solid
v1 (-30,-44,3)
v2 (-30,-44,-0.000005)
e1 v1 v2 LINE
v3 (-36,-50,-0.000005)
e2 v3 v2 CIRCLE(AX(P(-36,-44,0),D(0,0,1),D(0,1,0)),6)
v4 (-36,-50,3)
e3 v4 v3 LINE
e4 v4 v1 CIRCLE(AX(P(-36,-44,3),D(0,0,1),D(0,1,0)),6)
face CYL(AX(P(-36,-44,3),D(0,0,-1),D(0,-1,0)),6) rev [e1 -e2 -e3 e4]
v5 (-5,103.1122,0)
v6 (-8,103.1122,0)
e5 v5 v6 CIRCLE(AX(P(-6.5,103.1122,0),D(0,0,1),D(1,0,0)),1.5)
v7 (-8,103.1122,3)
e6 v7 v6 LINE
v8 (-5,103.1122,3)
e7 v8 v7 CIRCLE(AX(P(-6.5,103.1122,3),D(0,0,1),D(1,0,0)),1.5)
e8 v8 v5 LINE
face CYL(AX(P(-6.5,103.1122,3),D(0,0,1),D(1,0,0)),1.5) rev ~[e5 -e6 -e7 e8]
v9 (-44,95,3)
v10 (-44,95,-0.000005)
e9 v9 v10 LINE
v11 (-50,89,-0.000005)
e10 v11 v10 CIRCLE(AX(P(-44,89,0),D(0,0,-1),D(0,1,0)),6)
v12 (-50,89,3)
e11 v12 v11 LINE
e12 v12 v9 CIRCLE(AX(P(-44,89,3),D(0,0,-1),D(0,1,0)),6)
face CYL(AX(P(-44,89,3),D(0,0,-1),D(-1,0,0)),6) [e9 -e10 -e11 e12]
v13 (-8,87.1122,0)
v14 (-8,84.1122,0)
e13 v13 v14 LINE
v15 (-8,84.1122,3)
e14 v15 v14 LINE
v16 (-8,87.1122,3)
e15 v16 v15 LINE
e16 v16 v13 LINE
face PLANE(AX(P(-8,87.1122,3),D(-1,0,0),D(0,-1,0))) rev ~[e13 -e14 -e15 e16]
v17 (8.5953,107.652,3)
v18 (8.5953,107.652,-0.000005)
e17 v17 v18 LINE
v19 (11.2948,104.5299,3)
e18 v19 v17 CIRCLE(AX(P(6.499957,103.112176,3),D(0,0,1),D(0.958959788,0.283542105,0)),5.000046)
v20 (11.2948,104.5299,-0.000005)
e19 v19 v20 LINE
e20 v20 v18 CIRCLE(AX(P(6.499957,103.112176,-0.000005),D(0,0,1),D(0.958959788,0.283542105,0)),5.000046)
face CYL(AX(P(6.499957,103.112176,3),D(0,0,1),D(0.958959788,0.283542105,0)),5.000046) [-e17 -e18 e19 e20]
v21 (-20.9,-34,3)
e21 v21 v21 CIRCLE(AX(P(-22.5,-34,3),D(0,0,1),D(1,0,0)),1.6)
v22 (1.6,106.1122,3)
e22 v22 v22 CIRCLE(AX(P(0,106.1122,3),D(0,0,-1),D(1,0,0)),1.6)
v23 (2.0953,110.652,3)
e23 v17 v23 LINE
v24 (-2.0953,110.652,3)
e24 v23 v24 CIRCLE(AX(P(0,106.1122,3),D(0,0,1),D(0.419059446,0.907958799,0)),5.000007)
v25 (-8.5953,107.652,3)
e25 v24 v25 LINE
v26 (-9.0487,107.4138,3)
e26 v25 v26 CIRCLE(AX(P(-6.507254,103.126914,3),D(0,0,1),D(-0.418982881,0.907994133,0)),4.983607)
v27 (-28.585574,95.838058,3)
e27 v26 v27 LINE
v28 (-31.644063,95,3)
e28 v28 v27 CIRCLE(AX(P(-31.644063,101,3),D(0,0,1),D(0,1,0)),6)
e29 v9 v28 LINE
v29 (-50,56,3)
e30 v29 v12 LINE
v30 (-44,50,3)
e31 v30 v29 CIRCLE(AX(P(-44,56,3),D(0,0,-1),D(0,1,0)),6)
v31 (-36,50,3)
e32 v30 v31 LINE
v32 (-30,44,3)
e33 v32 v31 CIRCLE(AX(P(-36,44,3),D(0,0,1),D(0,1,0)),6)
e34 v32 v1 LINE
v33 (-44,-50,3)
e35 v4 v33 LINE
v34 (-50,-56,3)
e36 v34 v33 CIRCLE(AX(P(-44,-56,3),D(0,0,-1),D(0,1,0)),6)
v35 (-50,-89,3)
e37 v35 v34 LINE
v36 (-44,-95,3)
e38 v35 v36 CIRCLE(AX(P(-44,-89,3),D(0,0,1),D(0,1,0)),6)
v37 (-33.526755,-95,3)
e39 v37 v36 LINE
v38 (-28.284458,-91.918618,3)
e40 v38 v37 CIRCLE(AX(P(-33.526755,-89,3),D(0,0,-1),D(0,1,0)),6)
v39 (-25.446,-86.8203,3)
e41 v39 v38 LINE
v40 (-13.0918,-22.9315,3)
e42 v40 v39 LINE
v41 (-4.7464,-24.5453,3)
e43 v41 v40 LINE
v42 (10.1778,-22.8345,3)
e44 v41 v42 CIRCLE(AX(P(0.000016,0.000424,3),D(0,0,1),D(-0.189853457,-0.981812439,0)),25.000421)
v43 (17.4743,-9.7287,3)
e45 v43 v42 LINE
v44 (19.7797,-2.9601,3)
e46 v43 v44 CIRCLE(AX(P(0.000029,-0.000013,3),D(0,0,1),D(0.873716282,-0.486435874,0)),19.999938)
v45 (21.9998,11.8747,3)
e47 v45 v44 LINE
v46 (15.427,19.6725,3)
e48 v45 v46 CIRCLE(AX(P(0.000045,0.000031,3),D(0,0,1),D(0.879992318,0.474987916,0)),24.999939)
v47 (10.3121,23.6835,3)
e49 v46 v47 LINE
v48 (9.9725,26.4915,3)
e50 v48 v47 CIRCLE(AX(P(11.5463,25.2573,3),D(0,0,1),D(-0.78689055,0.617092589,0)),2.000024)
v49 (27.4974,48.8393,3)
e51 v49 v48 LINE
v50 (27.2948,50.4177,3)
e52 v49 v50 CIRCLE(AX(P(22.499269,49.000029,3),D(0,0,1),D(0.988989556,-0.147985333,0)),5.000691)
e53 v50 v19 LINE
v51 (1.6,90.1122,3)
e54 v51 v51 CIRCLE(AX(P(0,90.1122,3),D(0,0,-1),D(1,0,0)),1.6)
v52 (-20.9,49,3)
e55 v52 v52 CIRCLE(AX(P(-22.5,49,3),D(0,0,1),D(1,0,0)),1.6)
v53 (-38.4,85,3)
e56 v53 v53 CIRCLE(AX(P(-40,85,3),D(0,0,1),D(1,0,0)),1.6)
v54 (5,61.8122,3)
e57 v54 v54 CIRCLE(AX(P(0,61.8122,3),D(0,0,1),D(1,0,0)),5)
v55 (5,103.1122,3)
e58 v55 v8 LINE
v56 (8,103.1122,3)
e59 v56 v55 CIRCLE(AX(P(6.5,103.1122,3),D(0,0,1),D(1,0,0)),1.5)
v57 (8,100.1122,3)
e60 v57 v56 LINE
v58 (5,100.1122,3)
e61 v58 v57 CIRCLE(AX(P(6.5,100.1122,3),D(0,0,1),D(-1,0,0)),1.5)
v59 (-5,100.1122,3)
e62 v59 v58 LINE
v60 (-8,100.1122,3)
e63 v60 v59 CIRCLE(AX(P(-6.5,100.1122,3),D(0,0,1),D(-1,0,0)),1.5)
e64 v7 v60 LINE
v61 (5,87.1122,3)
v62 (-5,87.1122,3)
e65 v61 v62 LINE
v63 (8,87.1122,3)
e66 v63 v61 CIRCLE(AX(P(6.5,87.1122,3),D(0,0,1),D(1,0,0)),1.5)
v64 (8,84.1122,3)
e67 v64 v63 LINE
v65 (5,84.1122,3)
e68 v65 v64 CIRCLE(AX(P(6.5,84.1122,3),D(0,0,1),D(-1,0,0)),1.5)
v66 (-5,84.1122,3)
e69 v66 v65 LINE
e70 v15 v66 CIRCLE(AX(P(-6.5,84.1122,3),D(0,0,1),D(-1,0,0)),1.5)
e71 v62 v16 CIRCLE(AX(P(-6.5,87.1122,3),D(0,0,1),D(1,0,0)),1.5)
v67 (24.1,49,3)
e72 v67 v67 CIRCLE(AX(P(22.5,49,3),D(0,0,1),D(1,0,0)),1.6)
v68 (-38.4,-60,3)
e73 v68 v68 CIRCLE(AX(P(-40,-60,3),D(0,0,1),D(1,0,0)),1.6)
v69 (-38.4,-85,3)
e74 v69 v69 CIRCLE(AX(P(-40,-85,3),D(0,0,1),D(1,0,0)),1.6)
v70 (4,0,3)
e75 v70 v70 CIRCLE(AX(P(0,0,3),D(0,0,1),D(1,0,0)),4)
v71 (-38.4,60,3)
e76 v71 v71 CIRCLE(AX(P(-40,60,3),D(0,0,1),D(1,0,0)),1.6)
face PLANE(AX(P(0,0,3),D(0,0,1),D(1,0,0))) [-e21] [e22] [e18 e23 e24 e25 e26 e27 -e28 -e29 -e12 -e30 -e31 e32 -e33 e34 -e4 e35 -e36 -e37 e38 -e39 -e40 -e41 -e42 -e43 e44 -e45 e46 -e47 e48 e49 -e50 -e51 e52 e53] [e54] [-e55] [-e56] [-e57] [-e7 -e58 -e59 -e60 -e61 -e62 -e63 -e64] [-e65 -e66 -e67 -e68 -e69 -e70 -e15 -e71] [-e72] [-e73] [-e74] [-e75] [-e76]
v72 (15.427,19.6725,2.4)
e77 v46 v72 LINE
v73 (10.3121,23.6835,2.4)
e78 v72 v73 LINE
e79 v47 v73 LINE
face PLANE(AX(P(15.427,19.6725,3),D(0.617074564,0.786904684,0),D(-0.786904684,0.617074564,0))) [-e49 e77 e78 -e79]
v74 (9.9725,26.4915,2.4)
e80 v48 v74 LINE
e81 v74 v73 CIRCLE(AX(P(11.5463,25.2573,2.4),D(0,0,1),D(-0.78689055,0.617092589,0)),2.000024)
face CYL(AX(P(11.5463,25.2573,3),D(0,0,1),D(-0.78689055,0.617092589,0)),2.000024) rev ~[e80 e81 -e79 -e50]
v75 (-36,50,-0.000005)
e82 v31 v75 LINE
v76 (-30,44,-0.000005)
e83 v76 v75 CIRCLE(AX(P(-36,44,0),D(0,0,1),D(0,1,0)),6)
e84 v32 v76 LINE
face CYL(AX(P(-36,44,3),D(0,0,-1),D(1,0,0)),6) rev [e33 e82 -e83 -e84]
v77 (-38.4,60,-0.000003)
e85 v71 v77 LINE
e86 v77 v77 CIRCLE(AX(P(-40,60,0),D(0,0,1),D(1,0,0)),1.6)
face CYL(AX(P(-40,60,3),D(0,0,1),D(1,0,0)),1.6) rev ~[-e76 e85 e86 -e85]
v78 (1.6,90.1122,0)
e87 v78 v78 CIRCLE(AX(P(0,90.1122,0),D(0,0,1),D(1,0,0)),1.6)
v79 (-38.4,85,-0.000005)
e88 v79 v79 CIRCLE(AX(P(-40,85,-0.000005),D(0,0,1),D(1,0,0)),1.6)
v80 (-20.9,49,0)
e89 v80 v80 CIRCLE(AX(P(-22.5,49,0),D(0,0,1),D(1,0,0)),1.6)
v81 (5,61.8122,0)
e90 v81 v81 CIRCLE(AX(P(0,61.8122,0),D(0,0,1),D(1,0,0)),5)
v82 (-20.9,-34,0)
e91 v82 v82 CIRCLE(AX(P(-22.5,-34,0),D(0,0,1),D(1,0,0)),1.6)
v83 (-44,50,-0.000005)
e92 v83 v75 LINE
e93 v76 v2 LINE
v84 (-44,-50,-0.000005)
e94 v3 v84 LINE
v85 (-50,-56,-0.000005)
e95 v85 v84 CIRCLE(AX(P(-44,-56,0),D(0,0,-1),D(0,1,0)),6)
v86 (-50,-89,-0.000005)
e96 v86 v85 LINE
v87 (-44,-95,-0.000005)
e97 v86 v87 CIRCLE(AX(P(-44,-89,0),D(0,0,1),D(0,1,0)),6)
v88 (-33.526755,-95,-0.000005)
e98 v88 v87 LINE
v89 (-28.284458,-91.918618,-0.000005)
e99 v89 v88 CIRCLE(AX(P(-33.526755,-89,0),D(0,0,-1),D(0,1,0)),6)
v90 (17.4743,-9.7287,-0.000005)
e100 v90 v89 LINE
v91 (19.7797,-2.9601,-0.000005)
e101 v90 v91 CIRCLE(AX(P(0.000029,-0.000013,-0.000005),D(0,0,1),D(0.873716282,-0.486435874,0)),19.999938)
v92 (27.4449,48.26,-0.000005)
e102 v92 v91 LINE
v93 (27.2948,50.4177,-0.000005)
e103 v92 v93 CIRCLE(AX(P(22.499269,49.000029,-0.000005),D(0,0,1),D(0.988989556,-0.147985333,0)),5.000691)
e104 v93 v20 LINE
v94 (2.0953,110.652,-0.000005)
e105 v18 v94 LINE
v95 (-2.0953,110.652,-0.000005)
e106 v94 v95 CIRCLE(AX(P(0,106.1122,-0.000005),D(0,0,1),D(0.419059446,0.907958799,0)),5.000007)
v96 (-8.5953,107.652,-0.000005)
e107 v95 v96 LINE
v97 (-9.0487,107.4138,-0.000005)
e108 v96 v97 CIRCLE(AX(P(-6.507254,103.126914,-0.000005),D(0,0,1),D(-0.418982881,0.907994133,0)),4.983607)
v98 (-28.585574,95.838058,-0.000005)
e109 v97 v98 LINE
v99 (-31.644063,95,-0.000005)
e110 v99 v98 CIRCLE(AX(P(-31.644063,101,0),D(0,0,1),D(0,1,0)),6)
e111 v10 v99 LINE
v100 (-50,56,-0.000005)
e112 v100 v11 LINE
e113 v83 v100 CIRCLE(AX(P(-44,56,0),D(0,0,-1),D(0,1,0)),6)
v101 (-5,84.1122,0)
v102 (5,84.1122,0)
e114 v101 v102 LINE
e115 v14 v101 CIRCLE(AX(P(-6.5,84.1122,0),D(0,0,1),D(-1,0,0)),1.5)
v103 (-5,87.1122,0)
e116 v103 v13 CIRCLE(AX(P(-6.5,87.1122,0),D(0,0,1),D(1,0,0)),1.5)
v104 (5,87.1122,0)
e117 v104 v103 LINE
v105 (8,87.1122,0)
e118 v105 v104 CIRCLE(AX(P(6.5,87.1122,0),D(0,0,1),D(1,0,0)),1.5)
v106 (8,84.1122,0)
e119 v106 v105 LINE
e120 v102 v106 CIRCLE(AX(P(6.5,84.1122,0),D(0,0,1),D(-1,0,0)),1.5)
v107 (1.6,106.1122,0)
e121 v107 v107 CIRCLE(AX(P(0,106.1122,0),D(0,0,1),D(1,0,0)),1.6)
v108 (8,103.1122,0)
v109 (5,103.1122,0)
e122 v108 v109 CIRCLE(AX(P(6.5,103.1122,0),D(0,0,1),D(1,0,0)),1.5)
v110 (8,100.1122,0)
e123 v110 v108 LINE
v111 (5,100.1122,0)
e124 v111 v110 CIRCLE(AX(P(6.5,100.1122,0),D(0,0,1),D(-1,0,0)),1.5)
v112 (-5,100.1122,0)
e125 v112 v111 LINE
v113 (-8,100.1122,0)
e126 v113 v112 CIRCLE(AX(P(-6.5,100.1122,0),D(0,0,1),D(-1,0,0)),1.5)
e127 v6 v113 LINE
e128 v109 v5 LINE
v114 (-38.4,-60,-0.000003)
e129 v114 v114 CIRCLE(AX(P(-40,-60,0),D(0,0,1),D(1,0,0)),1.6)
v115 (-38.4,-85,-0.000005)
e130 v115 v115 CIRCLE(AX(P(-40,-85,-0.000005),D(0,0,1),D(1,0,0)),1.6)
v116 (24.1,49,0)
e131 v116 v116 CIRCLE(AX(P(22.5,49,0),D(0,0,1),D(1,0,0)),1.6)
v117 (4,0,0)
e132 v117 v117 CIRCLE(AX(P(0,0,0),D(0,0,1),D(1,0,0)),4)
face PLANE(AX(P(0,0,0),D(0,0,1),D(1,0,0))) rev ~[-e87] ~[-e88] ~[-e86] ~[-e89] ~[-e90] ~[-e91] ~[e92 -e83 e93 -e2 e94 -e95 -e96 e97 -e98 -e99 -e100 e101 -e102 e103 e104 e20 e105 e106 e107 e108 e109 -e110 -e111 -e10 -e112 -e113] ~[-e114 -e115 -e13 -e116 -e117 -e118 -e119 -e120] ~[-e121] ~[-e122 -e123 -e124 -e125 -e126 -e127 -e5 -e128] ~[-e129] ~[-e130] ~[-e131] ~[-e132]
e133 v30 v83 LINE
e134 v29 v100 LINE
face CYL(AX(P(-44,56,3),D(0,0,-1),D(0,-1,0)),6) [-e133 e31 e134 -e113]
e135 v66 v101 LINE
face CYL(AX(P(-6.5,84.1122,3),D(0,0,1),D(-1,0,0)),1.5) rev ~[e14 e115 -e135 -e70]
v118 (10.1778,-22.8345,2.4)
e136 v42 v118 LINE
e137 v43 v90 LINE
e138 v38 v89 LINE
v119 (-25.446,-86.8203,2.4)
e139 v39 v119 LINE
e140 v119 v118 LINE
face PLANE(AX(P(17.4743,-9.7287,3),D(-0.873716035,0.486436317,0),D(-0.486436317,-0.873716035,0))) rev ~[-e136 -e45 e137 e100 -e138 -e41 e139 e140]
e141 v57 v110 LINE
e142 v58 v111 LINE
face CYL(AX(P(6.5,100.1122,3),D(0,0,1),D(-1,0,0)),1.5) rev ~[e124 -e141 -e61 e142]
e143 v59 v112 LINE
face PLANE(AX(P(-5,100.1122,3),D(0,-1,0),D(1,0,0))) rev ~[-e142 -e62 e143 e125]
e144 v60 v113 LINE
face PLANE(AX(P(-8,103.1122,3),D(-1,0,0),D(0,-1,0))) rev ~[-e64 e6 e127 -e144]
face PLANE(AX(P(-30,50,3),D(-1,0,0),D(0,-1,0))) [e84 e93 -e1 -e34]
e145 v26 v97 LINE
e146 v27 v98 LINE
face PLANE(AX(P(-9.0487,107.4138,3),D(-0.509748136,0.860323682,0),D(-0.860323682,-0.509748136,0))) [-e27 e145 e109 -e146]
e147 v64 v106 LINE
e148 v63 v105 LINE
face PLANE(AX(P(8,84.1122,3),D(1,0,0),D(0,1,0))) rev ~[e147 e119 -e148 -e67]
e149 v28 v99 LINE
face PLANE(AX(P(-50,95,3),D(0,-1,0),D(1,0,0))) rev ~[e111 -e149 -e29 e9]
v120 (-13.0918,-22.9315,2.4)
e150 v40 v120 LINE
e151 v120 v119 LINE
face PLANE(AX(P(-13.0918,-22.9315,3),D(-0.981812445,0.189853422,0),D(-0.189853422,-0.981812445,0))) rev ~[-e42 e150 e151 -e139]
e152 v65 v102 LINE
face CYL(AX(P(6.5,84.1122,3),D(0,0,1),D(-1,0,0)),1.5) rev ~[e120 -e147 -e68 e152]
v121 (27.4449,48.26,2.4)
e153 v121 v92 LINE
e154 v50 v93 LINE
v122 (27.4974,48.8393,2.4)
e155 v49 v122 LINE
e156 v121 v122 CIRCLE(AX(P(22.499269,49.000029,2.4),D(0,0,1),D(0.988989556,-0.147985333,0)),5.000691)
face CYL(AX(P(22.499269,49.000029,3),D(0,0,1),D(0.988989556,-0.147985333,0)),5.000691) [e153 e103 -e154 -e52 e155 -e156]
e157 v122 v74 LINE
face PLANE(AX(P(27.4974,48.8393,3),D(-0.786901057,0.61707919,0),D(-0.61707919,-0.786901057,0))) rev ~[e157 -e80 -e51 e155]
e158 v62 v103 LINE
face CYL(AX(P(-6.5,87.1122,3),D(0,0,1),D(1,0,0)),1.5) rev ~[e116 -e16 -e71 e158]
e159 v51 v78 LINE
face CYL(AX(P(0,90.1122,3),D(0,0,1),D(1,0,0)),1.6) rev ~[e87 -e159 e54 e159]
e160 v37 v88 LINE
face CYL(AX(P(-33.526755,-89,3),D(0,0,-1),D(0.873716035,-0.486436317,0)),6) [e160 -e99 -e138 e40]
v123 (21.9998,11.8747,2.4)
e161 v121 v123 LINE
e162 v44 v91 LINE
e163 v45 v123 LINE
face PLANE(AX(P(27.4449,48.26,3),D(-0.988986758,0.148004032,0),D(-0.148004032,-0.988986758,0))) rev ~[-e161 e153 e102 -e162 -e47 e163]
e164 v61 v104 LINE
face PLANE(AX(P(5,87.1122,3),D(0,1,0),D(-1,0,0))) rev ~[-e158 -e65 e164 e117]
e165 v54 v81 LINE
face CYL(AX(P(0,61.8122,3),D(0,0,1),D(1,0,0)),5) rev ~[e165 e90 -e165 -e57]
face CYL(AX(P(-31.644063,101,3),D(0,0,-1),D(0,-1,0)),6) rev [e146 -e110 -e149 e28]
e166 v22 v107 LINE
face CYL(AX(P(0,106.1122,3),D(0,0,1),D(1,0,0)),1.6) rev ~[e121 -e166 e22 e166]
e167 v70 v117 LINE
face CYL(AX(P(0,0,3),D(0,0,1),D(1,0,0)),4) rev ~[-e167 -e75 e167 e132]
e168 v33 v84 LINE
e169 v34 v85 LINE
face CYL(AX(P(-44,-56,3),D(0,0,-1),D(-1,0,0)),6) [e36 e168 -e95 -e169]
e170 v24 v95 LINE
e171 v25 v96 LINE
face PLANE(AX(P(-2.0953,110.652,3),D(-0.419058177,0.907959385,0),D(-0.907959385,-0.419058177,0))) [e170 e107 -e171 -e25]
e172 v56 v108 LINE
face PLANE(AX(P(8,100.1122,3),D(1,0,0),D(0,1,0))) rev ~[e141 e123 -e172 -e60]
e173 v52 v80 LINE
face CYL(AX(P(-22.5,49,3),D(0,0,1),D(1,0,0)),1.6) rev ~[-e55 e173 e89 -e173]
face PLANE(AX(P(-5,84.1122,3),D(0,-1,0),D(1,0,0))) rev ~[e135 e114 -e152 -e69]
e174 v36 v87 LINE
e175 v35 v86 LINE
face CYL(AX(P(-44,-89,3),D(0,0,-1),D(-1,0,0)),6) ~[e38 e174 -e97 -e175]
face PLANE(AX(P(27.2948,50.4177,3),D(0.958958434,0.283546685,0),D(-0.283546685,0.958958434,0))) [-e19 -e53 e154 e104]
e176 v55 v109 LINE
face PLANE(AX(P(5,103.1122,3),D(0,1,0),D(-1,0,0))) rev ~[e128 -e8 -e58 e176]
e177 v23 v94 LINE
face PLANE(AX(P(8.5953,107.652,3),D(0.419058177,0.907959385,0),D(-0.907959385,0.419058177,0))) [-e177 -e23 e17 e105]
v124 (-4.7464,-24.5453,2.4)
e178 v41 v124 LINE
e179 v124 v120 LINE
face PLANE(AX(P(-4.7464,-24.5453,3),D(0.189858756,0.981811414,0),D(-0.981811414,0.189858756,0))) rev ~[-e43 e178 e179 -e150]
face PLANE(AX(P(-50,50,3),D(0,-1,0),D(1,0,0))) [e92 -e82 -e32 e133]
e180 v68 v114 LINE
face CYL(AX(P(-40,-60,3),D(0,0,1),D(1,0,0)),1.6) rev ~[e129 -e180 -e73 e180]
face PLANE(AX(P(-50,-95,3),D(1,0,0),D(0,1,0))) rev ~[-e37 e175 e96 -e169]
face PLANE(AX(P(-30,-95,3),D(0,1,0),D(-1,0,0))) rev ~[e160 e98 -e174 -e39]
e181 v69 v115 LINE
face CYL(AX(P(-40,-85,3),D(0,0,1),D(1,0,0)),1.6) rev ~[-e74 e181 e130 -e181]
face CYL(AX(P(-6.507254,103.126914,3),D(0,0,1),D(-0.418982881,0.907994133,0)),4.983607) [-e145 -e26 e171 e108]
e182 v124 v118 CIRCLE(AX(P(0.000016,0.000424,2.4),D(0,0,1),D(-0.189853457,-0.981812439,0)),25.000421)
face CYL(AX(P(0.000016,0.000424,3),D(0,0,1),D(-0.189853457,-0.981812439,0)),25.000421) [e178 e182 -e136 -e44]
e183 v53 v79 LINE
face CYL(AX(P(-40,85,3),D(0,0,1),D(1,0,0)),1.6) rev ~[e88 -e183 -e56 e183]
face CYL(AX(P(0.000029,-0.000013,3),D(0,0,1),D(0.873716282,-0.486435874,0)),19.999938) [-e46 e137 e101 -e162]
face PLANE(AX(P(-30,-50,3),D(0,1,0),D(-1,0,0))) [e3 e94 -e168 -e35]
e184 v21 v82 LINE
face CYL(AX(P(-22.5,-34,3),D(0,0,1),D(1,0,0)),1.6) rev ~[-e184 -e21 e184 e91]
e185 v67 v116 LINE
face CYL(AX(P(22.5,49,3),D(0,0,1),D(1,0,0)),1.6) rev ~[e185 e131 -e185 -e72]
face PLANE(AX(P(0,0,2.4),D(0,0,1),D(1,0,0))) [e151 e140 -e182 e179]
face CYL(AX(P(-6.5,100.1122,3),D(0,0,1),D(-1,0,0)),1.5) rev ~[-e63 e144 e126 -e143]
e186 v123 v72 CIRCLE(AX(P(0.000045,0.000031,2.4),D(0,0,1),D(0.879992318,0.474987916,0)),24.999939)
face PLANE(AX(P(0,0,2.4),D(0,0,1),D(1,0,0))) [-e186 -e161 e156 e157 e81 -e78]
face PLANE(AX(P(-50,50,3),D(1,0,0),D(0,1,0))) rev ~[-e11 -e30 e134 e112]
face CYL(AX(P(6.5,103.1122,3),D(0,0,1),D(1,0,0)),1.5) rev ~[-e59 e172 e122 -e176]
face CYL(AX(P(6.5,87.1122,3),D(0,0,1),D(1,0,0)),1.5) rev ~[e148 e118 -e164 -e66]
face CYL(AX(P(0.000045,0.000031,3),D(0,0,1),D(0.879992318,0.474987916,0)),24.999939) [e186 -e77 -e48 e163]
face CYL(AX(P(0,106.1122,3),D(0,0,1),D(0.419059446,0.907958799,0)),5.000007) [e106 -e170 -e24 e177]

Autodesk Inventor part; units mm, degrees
ref_plane "YZ Plane" through (0, 0, 0) normal (1, 0, 0) x (0, 1, 0)
ref_plane "XZ Plane" through (0, 0, 0) normal (0, 1, 0) x (-1, 0, 0)
ref_plane "XY Plane" through (0, 0, 0) normal (0, 0, 1) x (1, 0, 0)
sketch "スケッチ1" plane through (0, 0, 0) normal (0, 0, 1) x (1, 0, 0)
  arc A0 (0, -120) -> (0, 120) centre (0, 0) ccw
  line L0 (0, 120) -> (0, -120)
  dimension "d0" = 120
extrude "押し出し1" add sketch "スケッチ1" along normal blind 3
sketch "スケッチ2" plane through (0, 0, 0) normal (0, 0, -1) x (-1, 0, 0)
  line L0 (0, 120) -> (0, -120) projected
  line L1 (0, 120) -> (50, 120)
  line L2 (50, 120) -> (50, -120)
  line L3 (50, -120) -> (0, -120)
  line L4 (0, -120) -> (0, 120)
  point P0 (0, 0)
  dimension "d3" = 50
extrude "押し出し2" add sketch "スケッチ2" against normal blind 3
sketch "スケッチ3" plane through (0, 0, 3) normal (0, 0, 1) x (1, 0, 0)
  line L0 (-50, 120) -> (-50, -120) projected
  line L1 (-50, 40) -> (-40, 40)
  line L2 (-40, 40) -> (-40, -40)
  line L3 (-40, -40) -> (-50, -40)
  line L4 (-50, -40) -> (-50, 40)
  line L5 (-40, 60) -> (-40, -60) construction
  circle A0 centre (-40, 60) radius 1.6
  circle A1 centre (-40, -60) radius 1.6
  point P0 (0, 0)
  point P1 (-50, 0)
  point P2 (-40, 0)
  point P3 (-40, 0)
  dimension "d8" = 10
  dimension "d9" = 80
  dimension "d10" = 120
  dimension "d11" = 10
  dimension "d12" = 3.2
  dimension "d13" = 3.2
extrude "押し出し3" cut sketch "スケッチ3" against normal through all
sketch "スケッチ4" plane through (0, 0, 3) normal (0, 0, 1) x (1, 0, 0)
  circle A0 centre (0, 0) radius 4
  dimension "d14" = 8
extrude "押し出し4" cut sketch "スケッチ4" against normal blind 3
sketch "スケッチ5" plane through (0, 0, 3) normal (0, 0, 1) x (1, 0, 0)
  circle A0 centre (0, 61.8122) radius 3 projected
  circle A1 centre (0, 61.8122) radius 5
  point P0 (0, 0)
  dimension "d17" = 10
extrude "押し出し5" cut sketch "スケッチ5" against normal blind 3 contours A0 | A1
sketch "スケッチ7" plane through (0, 0, 3) normal (0, 0, 1) x (1, 0, 0)
  line L0 (15.7, 89.1122) -> (-15.7, 89.1122) projected
  line L1 (8, 87.1122) -> (-8, 87.1122)
  line L2 (-8, 87.1122) -> (-8, 84.1122)
  line L3 (-8, 84.1122) -> (8, 84.1122)
  line L4 (8, 84.1122) -> (8, 87.1122)
  arc A0 (-8, 84.1122) -> (-5, 84.1122) centre (-6.5, 84.1122) ccw
  arc A1 (5, 84.1122) -> (8, 84.1122) centre (6.5, 84.1122) ccw
  arc A2 (8, 87.1122) -> (5, 87.1122) centre (6.5, 87.1122) ccw
  arc A3 (-5, 87.1122) -> (-8, 87.1122) centre (-6.5, 87.1122) ccw
  circle A4 centre (0, 90.1122) radius 1.6
  point P0 (0, 0)
  point P1 (0, 87.1122)
  point P2 (0, 89.1122)
  dimension "d20" = 2
  dimension "d21" = 16
  dimension "d22" = 3
  dimension "d23" = 1.5
  dimension "d26" = 3.2
  dimension "d27" = 3
extrude "押し出し6" cut sketch "スケッチ7" against normal blind 3
pattern_linear "矩形状パターン1" count 2 spacing 16 along (0, 1, 0) of "押し出し6"
sketch "スケッチ9" plane through (0, 0, 3) normal (0, 0, 1) x (1, 0, 0)
  circle A0 centre (0, 61.8122) radius 4 construction
  circle A1 centre (0, 0) radius 4 construction
  circle A2 centre (22.5, 49) radius 1.6 projected
  circle A3 centre (-22.5, -34) radius 1.6 projected
  circle A4 centre (-22.5, 49) radius 1.6 projected
  line L0 (25.0237, 50.6221) -> (12.6183, 69.9225) construction
  arc A5 (12.6183, 69.9225) -> (-12.6183, 69.9226) centre (0, 61.8122) ccw construction
  line L1 (-12.6183, 69.9226) -> (-25.0237, 50.6221) construction
  arc A6 (-25.0237, 50.6221) -> (-25.5, 49) centre (-22.5, 49) ccw construction
  line L2 (-25.5, 49) -> (-25.5, -34) construction
  arc A7 (-25.5, -34) -> (-20.5963, -36.3186) centre (-22.5, -34) ccw construction
  line L3 (-20.5963, -36.3186) -> (9.5184, -11.5931) construction
  arc A8 (9.5184, -11.5931) -> (14.6828, -3.0686) centre (0, 0) ccw construction
  line L4 (14.6828, -3.0686) -> (25.4366, 48.3863) construction
  arc A9 (25.4366, 48.3863) -> (25.0237, 50.6221) centre (22.5, 49) ccw construction
  point P0 (0, 0)
extrude "押し出し8" cut sketch "スケッチ9" against normal blind 3
sketch "スケッチ8" plane through (0, 0, 3) normal (0, 0, 1) x (1, 0, 0)
  arc A0 (17.4743, -9.7287) -> (19.7797, -2.9601) centre (0, 0) ccw
  line L0 (17.4743, -9.7287) -> (-30, -95)
  circle A1 centre (22.5, 49) radius 1.6 projected
  circle A2 centre (-22.5, 49) radius 1.6 projected
  circle A3 centre (-22.5, -34) radius 1.6 projected
  arc A4 (27.4449, 48.26) -> (27.2948, 50.4177) centre (22.5, 49) ccw
  line L1 (27.4449, 48.26) -> (19.7797, -2.9601)
  arc A5 (11.2948, 104.5299) -> (8.5953, 107.652) centre (6.5, 103.1122) ccw
  arc A6 (2.0953, 110.652) -> (-2.0953, 110.652) centre (0, 106.1122) ccw
  line L2 (8.5953, 107.652) -> (2.0953, 110.652)
  line L3 (27.2948, 50.4177) -> (11.2948, 104.5299)
  line L4 (-2.0953, 110.652) -> (-8.5953, 107.652)
  arc A7 (-8.5953, 107.652) -> (-9.0487, 107.4138) centre (-6.5, 103.1122) ccw
  line L5 (-9.0487, 107.4138) -> (-30, 95)
  circle A8 centre (-40, 85) radius 1.6 projected
  line L6 (-50, 50) -> (-30, 50) projected
  line L7 (-30, 95) -> (-30, 50) projected
  line L8 (-50, 95) -> (-30, 95) projected
  line L9 (-50, 50) -> (-50, 95) projected
  circle A9 centre (-40, 60) radius 1.6 projected
  circle A10 centre (-40, -85) radius 1.6 projected
  circle A11 centre (-40, -60) radius 1.6 projected
  line L10 (-30, -50) -> (-50, -50) projected
  line L11 (-50, -95) -> (-50, -50) projected
  line L12 (-30, -95) -> (-50, -95) projected
  line L13 (-30, -50) -> (-30, -95) projected
  line L14 (-30, 50) -> (-30, -50)
  point P0 (-47, -55)
  point P1 (-50, -80)
  point P2 (-35, 50)
  point P3 (-35, 95)
  point P4 (-35, -50)
  point P5 (-35, -95)
  dimension "d41" = 10
  dimension "d44" = 5
  dimension "d48" = 20
extrude "押し出し9" cut sketch "スケッチ8" against normal through all contours L0 L13 L14 L7 L5 A7 L4 A6 L2 A5 L3 A4 L1 A0 | L12 L11 L10 L13 | L6 L9 L8 L7 | A1 | A2 | A3 keep common part
fillet "フィレット2" radius 6 8 edges at (-50, 50, 1.5) (-30, 50, 1.5) (-30, -50, 1.5) (-50, -50, 1.5) (-50, 95, 1.5) (-30, 95, 1.5) (-50, -95, 1.5) (-30, -95, 1.5)
sketch "スケッチ10" plane through (0, 0, 3) normal (0, 0, 1) x (1, 0, 0)
  arc A0 (-33.5268, -95) -> (-28.2845, -91.9186) centre (-33.5268, -89) ccw projected
  line L0 (17.4743, -9.7287) -> (-28.2845, -91.9186) projected
  arc A1 (17.4743, -9.7287) -> (19.7797, -2.9601) centre (0, 0) ccw projected
  line L1 (27.4449, 48.26) -> (19.7797, -2.9601) projected
  arc A2 (27.4449, 48.26) -> (27.2948, 50.4177) centre (22.5, 49) ccw projected
  line L2 (11.2948, 104.5299) -> (27.2948, 50.4177) projected
  arc A3 (11.2948, 104.5299) -> (8.5953, 107.652) centre (6.5, 103.1122) ccw projected
  line L3 (2.0953, 110.652) -> (8.5953, 107.652) projected
  arc A4 (2.0953, 110.652) -> (-2.0953, 110.652) centre (0, 106.1122) ccw projected
  line L4 (-8.5953, 107.652) -> (-2.0953, 110.652) projected
  arc A5 (-8.5953, 107.652) -> (-9.0487, 107.4138) centre (-6.5, 103.1122) ccw projected
  line L5 (-28.5856, 95.8381) -> (-9.0487, 107.4138) projected
  arc A6 (-31.6441, 95) -> (-28.5856, 95.8381) centre (-31.6441, 101) ccw projected
  line L6 (-44, 95) -> (-31.6441, 95) projected
  arc A7 (-44, 95) -> (-50, 89) centre (-44, 89) ccw projected
  line L7 (-50, 89) -> (-50, 56) projected
  arc A8 (-50, 56) -> (-44, 50) centre (-44, 56) ccw projected
  line L8 (-36, 50) -> (-44, 50) projected
  arc A9 (-30, 44) -> (-36, 50) centre (-36, 44) ccw projected
  line L9 (-30, -44) -> (-30, 44) projected
  arc A10 (-36, -50) -> (-30, -44) centre (-36, -44) ccw projected
  line L10 (-44, -50) -> (-36, -50) projected
  arc A11 (-44, -50) -> (-50, -56) centre (-44, -56) ccw projected
  line L11 (-50, -56) -> (-50, -89) projected
  arc A12 (-50, -89) -> (-44, -95) centre (-44, -89) ccw projected
  line L12 (-33.5268, -95) -> (-44, -95) projected
  circle A13 centre (-40, -85) radius 1.6 projected
  circle A14 centre (-40, 85) radius 1.6 projected
  circle A15 centre (-22.5, -34) radius 1.6 projected
  circle A16 centre (22.5, 49) radius 1.6 projected
  circle A17 centre (-22.5, 49) radius 1.6 projected
  circle A18 centre (0, 106.1122) radius 1.6 projected
  arc A19 (8, 103.1122) -> (5, 103.1122) centre (6.5, 103.1122) ccw projected
  line L13 (8, 103.1122) -> (8, 100.1122) projected
  arc A20 (5, 100.1122) -> (8, 100.1122) centre (6.5, 100.1122) ccw projected
  line L14 (5, 100.1122) -> (-5, 100.1122) projected
  arc A21 (-8, 100.1122) -> (-5, 100.1122) centre (-6.5, 100.1122) ccw projected
  line L15 (-8, 100.1122) -> (-8, 103.1122) projected
  arc A22 (-5, 103.1122) -> (-8, 103.1122) centre (-6.5, 103.1122) ccw projected
  line L16 (-5, 103.1122) -> (5, 103.1122) projected
  circle A23 centre (0, 90.1122) radius 1.6 projected
  arc A24 (8, 87.1122) -> (5, 87.1122) centre (6.5, 87.1122) ccw projected
  line L17 (8, 87.1122) -> (8, 84.1122) projected
  arc A25 (5, 84.1122) -> (8, 84.1122) centre (6.5, 84.1122) ccw projected
  line L18 (5, 84.1122) -> (-5, 84.1122) projected
  arc A26 (-8, 84.1122) -> (-5, 84.1122) centre (-6.5, 84.1122) ccw projected
  line L19 (-8, 84.1122) -> (-8, 87.1122) projected
  arc A27 (-5, 87.1122) -> (-8, 87.1122) centre (-6.5, 87.1122) ccw projected
  line L20 (-5, 87.1122) -> (5, 87.1122) projected
  circle A28 centre (0, 61.8122) radius 5 projected
  circle A29 centre (0, 0) radius 4 projected
  circle A30 centre (-40, 60) radius 1.6 projected
  circle A31 centre (-40, -60) radius 1.6 projected
  line L21 (27.4974, 48.8393) -> (9.9725, 26.4915)
  circle A32 centre (66.9129, -143.1316) radius 1.6 projected
  circle A33 centre (14.399, -30.8005) radius 1.6 projected
  circle A34 centre (20.7515, -44.3889) radius 1.6 projected
  circle A35 centre (58.443, -125.0137) radius 1.6 projected
  line L22 (4.2168, -26.7296) -> (17.8052, -20.3771) projected
  line L23 (4.2168, -26.7296) -> (63.5067, -153.555) projected
  line L24 (77.0952, -147.2025) -> (63.5067, -153.555) projected
  line L25 (17.8052, -20.3771) -> (77.0952, -147.2025) projected
  line L26 (15.427, 19.6725) -> (10.3121, 23.6835)
  arc A36 (9.9725, 26.4915) -> (10.3121, 23.6835) centre (11.5463, 25.2573) ccw
  circle A37 centre (-26.1999, -135.4901) radius 1.6 projected
  circle A38 centre (-6.455, -33.3816) radius 1.6 projected
  circle A39 centre (-9.3028, -48.1088) radius 1.6 projected
  circle A40 centre (-23.352, -120.7629) radius 1.6 projected
  line L27 (-12.2998, -24.1032) -> (2.4274, -26.951) projected
  line L28 (-12.2998, -24.1032) -> (-35.0823, -141.9207) projected
  line L29 (-20.3551, -144.7685) -> (-35.0823, -141.9207) projected
  line L30 (2.4274, -26.951) -> (-20.3551, -144.7685) projected
  line L31 (-4.7464, -24.5453) -> (-13.0918, -22.9315)
  line L32 (-13.0918, -22.9315) -> (-25.446, -86.8203)
  arc A41 (-4.7464, -24.5453) -> (10.1778, -22.8345) centre (0, 0) ccw
  arc A42 (21.9998, 11.8747) -> (15.427, 19.6725) centre (0, 0) ccw
  dimension "d54" = 2
  dimension "d55" = 1
  dimension "d56" = 1
  dimension "d57" = 25
extrude "押し出し11" cut sketch "スケッチ10" against normal blind 0.6 contours L32 L31 A41 L0 L22 L23 L30 L27 L28 | L28 L27 L30 L0 | L23 L22 L0 | A42 L26 A36 L21 A2 L1 | A33 | A38 | A39
equation "\"d27\" = d22"
properties part number "Pitch_B" material "アルミニウム"
